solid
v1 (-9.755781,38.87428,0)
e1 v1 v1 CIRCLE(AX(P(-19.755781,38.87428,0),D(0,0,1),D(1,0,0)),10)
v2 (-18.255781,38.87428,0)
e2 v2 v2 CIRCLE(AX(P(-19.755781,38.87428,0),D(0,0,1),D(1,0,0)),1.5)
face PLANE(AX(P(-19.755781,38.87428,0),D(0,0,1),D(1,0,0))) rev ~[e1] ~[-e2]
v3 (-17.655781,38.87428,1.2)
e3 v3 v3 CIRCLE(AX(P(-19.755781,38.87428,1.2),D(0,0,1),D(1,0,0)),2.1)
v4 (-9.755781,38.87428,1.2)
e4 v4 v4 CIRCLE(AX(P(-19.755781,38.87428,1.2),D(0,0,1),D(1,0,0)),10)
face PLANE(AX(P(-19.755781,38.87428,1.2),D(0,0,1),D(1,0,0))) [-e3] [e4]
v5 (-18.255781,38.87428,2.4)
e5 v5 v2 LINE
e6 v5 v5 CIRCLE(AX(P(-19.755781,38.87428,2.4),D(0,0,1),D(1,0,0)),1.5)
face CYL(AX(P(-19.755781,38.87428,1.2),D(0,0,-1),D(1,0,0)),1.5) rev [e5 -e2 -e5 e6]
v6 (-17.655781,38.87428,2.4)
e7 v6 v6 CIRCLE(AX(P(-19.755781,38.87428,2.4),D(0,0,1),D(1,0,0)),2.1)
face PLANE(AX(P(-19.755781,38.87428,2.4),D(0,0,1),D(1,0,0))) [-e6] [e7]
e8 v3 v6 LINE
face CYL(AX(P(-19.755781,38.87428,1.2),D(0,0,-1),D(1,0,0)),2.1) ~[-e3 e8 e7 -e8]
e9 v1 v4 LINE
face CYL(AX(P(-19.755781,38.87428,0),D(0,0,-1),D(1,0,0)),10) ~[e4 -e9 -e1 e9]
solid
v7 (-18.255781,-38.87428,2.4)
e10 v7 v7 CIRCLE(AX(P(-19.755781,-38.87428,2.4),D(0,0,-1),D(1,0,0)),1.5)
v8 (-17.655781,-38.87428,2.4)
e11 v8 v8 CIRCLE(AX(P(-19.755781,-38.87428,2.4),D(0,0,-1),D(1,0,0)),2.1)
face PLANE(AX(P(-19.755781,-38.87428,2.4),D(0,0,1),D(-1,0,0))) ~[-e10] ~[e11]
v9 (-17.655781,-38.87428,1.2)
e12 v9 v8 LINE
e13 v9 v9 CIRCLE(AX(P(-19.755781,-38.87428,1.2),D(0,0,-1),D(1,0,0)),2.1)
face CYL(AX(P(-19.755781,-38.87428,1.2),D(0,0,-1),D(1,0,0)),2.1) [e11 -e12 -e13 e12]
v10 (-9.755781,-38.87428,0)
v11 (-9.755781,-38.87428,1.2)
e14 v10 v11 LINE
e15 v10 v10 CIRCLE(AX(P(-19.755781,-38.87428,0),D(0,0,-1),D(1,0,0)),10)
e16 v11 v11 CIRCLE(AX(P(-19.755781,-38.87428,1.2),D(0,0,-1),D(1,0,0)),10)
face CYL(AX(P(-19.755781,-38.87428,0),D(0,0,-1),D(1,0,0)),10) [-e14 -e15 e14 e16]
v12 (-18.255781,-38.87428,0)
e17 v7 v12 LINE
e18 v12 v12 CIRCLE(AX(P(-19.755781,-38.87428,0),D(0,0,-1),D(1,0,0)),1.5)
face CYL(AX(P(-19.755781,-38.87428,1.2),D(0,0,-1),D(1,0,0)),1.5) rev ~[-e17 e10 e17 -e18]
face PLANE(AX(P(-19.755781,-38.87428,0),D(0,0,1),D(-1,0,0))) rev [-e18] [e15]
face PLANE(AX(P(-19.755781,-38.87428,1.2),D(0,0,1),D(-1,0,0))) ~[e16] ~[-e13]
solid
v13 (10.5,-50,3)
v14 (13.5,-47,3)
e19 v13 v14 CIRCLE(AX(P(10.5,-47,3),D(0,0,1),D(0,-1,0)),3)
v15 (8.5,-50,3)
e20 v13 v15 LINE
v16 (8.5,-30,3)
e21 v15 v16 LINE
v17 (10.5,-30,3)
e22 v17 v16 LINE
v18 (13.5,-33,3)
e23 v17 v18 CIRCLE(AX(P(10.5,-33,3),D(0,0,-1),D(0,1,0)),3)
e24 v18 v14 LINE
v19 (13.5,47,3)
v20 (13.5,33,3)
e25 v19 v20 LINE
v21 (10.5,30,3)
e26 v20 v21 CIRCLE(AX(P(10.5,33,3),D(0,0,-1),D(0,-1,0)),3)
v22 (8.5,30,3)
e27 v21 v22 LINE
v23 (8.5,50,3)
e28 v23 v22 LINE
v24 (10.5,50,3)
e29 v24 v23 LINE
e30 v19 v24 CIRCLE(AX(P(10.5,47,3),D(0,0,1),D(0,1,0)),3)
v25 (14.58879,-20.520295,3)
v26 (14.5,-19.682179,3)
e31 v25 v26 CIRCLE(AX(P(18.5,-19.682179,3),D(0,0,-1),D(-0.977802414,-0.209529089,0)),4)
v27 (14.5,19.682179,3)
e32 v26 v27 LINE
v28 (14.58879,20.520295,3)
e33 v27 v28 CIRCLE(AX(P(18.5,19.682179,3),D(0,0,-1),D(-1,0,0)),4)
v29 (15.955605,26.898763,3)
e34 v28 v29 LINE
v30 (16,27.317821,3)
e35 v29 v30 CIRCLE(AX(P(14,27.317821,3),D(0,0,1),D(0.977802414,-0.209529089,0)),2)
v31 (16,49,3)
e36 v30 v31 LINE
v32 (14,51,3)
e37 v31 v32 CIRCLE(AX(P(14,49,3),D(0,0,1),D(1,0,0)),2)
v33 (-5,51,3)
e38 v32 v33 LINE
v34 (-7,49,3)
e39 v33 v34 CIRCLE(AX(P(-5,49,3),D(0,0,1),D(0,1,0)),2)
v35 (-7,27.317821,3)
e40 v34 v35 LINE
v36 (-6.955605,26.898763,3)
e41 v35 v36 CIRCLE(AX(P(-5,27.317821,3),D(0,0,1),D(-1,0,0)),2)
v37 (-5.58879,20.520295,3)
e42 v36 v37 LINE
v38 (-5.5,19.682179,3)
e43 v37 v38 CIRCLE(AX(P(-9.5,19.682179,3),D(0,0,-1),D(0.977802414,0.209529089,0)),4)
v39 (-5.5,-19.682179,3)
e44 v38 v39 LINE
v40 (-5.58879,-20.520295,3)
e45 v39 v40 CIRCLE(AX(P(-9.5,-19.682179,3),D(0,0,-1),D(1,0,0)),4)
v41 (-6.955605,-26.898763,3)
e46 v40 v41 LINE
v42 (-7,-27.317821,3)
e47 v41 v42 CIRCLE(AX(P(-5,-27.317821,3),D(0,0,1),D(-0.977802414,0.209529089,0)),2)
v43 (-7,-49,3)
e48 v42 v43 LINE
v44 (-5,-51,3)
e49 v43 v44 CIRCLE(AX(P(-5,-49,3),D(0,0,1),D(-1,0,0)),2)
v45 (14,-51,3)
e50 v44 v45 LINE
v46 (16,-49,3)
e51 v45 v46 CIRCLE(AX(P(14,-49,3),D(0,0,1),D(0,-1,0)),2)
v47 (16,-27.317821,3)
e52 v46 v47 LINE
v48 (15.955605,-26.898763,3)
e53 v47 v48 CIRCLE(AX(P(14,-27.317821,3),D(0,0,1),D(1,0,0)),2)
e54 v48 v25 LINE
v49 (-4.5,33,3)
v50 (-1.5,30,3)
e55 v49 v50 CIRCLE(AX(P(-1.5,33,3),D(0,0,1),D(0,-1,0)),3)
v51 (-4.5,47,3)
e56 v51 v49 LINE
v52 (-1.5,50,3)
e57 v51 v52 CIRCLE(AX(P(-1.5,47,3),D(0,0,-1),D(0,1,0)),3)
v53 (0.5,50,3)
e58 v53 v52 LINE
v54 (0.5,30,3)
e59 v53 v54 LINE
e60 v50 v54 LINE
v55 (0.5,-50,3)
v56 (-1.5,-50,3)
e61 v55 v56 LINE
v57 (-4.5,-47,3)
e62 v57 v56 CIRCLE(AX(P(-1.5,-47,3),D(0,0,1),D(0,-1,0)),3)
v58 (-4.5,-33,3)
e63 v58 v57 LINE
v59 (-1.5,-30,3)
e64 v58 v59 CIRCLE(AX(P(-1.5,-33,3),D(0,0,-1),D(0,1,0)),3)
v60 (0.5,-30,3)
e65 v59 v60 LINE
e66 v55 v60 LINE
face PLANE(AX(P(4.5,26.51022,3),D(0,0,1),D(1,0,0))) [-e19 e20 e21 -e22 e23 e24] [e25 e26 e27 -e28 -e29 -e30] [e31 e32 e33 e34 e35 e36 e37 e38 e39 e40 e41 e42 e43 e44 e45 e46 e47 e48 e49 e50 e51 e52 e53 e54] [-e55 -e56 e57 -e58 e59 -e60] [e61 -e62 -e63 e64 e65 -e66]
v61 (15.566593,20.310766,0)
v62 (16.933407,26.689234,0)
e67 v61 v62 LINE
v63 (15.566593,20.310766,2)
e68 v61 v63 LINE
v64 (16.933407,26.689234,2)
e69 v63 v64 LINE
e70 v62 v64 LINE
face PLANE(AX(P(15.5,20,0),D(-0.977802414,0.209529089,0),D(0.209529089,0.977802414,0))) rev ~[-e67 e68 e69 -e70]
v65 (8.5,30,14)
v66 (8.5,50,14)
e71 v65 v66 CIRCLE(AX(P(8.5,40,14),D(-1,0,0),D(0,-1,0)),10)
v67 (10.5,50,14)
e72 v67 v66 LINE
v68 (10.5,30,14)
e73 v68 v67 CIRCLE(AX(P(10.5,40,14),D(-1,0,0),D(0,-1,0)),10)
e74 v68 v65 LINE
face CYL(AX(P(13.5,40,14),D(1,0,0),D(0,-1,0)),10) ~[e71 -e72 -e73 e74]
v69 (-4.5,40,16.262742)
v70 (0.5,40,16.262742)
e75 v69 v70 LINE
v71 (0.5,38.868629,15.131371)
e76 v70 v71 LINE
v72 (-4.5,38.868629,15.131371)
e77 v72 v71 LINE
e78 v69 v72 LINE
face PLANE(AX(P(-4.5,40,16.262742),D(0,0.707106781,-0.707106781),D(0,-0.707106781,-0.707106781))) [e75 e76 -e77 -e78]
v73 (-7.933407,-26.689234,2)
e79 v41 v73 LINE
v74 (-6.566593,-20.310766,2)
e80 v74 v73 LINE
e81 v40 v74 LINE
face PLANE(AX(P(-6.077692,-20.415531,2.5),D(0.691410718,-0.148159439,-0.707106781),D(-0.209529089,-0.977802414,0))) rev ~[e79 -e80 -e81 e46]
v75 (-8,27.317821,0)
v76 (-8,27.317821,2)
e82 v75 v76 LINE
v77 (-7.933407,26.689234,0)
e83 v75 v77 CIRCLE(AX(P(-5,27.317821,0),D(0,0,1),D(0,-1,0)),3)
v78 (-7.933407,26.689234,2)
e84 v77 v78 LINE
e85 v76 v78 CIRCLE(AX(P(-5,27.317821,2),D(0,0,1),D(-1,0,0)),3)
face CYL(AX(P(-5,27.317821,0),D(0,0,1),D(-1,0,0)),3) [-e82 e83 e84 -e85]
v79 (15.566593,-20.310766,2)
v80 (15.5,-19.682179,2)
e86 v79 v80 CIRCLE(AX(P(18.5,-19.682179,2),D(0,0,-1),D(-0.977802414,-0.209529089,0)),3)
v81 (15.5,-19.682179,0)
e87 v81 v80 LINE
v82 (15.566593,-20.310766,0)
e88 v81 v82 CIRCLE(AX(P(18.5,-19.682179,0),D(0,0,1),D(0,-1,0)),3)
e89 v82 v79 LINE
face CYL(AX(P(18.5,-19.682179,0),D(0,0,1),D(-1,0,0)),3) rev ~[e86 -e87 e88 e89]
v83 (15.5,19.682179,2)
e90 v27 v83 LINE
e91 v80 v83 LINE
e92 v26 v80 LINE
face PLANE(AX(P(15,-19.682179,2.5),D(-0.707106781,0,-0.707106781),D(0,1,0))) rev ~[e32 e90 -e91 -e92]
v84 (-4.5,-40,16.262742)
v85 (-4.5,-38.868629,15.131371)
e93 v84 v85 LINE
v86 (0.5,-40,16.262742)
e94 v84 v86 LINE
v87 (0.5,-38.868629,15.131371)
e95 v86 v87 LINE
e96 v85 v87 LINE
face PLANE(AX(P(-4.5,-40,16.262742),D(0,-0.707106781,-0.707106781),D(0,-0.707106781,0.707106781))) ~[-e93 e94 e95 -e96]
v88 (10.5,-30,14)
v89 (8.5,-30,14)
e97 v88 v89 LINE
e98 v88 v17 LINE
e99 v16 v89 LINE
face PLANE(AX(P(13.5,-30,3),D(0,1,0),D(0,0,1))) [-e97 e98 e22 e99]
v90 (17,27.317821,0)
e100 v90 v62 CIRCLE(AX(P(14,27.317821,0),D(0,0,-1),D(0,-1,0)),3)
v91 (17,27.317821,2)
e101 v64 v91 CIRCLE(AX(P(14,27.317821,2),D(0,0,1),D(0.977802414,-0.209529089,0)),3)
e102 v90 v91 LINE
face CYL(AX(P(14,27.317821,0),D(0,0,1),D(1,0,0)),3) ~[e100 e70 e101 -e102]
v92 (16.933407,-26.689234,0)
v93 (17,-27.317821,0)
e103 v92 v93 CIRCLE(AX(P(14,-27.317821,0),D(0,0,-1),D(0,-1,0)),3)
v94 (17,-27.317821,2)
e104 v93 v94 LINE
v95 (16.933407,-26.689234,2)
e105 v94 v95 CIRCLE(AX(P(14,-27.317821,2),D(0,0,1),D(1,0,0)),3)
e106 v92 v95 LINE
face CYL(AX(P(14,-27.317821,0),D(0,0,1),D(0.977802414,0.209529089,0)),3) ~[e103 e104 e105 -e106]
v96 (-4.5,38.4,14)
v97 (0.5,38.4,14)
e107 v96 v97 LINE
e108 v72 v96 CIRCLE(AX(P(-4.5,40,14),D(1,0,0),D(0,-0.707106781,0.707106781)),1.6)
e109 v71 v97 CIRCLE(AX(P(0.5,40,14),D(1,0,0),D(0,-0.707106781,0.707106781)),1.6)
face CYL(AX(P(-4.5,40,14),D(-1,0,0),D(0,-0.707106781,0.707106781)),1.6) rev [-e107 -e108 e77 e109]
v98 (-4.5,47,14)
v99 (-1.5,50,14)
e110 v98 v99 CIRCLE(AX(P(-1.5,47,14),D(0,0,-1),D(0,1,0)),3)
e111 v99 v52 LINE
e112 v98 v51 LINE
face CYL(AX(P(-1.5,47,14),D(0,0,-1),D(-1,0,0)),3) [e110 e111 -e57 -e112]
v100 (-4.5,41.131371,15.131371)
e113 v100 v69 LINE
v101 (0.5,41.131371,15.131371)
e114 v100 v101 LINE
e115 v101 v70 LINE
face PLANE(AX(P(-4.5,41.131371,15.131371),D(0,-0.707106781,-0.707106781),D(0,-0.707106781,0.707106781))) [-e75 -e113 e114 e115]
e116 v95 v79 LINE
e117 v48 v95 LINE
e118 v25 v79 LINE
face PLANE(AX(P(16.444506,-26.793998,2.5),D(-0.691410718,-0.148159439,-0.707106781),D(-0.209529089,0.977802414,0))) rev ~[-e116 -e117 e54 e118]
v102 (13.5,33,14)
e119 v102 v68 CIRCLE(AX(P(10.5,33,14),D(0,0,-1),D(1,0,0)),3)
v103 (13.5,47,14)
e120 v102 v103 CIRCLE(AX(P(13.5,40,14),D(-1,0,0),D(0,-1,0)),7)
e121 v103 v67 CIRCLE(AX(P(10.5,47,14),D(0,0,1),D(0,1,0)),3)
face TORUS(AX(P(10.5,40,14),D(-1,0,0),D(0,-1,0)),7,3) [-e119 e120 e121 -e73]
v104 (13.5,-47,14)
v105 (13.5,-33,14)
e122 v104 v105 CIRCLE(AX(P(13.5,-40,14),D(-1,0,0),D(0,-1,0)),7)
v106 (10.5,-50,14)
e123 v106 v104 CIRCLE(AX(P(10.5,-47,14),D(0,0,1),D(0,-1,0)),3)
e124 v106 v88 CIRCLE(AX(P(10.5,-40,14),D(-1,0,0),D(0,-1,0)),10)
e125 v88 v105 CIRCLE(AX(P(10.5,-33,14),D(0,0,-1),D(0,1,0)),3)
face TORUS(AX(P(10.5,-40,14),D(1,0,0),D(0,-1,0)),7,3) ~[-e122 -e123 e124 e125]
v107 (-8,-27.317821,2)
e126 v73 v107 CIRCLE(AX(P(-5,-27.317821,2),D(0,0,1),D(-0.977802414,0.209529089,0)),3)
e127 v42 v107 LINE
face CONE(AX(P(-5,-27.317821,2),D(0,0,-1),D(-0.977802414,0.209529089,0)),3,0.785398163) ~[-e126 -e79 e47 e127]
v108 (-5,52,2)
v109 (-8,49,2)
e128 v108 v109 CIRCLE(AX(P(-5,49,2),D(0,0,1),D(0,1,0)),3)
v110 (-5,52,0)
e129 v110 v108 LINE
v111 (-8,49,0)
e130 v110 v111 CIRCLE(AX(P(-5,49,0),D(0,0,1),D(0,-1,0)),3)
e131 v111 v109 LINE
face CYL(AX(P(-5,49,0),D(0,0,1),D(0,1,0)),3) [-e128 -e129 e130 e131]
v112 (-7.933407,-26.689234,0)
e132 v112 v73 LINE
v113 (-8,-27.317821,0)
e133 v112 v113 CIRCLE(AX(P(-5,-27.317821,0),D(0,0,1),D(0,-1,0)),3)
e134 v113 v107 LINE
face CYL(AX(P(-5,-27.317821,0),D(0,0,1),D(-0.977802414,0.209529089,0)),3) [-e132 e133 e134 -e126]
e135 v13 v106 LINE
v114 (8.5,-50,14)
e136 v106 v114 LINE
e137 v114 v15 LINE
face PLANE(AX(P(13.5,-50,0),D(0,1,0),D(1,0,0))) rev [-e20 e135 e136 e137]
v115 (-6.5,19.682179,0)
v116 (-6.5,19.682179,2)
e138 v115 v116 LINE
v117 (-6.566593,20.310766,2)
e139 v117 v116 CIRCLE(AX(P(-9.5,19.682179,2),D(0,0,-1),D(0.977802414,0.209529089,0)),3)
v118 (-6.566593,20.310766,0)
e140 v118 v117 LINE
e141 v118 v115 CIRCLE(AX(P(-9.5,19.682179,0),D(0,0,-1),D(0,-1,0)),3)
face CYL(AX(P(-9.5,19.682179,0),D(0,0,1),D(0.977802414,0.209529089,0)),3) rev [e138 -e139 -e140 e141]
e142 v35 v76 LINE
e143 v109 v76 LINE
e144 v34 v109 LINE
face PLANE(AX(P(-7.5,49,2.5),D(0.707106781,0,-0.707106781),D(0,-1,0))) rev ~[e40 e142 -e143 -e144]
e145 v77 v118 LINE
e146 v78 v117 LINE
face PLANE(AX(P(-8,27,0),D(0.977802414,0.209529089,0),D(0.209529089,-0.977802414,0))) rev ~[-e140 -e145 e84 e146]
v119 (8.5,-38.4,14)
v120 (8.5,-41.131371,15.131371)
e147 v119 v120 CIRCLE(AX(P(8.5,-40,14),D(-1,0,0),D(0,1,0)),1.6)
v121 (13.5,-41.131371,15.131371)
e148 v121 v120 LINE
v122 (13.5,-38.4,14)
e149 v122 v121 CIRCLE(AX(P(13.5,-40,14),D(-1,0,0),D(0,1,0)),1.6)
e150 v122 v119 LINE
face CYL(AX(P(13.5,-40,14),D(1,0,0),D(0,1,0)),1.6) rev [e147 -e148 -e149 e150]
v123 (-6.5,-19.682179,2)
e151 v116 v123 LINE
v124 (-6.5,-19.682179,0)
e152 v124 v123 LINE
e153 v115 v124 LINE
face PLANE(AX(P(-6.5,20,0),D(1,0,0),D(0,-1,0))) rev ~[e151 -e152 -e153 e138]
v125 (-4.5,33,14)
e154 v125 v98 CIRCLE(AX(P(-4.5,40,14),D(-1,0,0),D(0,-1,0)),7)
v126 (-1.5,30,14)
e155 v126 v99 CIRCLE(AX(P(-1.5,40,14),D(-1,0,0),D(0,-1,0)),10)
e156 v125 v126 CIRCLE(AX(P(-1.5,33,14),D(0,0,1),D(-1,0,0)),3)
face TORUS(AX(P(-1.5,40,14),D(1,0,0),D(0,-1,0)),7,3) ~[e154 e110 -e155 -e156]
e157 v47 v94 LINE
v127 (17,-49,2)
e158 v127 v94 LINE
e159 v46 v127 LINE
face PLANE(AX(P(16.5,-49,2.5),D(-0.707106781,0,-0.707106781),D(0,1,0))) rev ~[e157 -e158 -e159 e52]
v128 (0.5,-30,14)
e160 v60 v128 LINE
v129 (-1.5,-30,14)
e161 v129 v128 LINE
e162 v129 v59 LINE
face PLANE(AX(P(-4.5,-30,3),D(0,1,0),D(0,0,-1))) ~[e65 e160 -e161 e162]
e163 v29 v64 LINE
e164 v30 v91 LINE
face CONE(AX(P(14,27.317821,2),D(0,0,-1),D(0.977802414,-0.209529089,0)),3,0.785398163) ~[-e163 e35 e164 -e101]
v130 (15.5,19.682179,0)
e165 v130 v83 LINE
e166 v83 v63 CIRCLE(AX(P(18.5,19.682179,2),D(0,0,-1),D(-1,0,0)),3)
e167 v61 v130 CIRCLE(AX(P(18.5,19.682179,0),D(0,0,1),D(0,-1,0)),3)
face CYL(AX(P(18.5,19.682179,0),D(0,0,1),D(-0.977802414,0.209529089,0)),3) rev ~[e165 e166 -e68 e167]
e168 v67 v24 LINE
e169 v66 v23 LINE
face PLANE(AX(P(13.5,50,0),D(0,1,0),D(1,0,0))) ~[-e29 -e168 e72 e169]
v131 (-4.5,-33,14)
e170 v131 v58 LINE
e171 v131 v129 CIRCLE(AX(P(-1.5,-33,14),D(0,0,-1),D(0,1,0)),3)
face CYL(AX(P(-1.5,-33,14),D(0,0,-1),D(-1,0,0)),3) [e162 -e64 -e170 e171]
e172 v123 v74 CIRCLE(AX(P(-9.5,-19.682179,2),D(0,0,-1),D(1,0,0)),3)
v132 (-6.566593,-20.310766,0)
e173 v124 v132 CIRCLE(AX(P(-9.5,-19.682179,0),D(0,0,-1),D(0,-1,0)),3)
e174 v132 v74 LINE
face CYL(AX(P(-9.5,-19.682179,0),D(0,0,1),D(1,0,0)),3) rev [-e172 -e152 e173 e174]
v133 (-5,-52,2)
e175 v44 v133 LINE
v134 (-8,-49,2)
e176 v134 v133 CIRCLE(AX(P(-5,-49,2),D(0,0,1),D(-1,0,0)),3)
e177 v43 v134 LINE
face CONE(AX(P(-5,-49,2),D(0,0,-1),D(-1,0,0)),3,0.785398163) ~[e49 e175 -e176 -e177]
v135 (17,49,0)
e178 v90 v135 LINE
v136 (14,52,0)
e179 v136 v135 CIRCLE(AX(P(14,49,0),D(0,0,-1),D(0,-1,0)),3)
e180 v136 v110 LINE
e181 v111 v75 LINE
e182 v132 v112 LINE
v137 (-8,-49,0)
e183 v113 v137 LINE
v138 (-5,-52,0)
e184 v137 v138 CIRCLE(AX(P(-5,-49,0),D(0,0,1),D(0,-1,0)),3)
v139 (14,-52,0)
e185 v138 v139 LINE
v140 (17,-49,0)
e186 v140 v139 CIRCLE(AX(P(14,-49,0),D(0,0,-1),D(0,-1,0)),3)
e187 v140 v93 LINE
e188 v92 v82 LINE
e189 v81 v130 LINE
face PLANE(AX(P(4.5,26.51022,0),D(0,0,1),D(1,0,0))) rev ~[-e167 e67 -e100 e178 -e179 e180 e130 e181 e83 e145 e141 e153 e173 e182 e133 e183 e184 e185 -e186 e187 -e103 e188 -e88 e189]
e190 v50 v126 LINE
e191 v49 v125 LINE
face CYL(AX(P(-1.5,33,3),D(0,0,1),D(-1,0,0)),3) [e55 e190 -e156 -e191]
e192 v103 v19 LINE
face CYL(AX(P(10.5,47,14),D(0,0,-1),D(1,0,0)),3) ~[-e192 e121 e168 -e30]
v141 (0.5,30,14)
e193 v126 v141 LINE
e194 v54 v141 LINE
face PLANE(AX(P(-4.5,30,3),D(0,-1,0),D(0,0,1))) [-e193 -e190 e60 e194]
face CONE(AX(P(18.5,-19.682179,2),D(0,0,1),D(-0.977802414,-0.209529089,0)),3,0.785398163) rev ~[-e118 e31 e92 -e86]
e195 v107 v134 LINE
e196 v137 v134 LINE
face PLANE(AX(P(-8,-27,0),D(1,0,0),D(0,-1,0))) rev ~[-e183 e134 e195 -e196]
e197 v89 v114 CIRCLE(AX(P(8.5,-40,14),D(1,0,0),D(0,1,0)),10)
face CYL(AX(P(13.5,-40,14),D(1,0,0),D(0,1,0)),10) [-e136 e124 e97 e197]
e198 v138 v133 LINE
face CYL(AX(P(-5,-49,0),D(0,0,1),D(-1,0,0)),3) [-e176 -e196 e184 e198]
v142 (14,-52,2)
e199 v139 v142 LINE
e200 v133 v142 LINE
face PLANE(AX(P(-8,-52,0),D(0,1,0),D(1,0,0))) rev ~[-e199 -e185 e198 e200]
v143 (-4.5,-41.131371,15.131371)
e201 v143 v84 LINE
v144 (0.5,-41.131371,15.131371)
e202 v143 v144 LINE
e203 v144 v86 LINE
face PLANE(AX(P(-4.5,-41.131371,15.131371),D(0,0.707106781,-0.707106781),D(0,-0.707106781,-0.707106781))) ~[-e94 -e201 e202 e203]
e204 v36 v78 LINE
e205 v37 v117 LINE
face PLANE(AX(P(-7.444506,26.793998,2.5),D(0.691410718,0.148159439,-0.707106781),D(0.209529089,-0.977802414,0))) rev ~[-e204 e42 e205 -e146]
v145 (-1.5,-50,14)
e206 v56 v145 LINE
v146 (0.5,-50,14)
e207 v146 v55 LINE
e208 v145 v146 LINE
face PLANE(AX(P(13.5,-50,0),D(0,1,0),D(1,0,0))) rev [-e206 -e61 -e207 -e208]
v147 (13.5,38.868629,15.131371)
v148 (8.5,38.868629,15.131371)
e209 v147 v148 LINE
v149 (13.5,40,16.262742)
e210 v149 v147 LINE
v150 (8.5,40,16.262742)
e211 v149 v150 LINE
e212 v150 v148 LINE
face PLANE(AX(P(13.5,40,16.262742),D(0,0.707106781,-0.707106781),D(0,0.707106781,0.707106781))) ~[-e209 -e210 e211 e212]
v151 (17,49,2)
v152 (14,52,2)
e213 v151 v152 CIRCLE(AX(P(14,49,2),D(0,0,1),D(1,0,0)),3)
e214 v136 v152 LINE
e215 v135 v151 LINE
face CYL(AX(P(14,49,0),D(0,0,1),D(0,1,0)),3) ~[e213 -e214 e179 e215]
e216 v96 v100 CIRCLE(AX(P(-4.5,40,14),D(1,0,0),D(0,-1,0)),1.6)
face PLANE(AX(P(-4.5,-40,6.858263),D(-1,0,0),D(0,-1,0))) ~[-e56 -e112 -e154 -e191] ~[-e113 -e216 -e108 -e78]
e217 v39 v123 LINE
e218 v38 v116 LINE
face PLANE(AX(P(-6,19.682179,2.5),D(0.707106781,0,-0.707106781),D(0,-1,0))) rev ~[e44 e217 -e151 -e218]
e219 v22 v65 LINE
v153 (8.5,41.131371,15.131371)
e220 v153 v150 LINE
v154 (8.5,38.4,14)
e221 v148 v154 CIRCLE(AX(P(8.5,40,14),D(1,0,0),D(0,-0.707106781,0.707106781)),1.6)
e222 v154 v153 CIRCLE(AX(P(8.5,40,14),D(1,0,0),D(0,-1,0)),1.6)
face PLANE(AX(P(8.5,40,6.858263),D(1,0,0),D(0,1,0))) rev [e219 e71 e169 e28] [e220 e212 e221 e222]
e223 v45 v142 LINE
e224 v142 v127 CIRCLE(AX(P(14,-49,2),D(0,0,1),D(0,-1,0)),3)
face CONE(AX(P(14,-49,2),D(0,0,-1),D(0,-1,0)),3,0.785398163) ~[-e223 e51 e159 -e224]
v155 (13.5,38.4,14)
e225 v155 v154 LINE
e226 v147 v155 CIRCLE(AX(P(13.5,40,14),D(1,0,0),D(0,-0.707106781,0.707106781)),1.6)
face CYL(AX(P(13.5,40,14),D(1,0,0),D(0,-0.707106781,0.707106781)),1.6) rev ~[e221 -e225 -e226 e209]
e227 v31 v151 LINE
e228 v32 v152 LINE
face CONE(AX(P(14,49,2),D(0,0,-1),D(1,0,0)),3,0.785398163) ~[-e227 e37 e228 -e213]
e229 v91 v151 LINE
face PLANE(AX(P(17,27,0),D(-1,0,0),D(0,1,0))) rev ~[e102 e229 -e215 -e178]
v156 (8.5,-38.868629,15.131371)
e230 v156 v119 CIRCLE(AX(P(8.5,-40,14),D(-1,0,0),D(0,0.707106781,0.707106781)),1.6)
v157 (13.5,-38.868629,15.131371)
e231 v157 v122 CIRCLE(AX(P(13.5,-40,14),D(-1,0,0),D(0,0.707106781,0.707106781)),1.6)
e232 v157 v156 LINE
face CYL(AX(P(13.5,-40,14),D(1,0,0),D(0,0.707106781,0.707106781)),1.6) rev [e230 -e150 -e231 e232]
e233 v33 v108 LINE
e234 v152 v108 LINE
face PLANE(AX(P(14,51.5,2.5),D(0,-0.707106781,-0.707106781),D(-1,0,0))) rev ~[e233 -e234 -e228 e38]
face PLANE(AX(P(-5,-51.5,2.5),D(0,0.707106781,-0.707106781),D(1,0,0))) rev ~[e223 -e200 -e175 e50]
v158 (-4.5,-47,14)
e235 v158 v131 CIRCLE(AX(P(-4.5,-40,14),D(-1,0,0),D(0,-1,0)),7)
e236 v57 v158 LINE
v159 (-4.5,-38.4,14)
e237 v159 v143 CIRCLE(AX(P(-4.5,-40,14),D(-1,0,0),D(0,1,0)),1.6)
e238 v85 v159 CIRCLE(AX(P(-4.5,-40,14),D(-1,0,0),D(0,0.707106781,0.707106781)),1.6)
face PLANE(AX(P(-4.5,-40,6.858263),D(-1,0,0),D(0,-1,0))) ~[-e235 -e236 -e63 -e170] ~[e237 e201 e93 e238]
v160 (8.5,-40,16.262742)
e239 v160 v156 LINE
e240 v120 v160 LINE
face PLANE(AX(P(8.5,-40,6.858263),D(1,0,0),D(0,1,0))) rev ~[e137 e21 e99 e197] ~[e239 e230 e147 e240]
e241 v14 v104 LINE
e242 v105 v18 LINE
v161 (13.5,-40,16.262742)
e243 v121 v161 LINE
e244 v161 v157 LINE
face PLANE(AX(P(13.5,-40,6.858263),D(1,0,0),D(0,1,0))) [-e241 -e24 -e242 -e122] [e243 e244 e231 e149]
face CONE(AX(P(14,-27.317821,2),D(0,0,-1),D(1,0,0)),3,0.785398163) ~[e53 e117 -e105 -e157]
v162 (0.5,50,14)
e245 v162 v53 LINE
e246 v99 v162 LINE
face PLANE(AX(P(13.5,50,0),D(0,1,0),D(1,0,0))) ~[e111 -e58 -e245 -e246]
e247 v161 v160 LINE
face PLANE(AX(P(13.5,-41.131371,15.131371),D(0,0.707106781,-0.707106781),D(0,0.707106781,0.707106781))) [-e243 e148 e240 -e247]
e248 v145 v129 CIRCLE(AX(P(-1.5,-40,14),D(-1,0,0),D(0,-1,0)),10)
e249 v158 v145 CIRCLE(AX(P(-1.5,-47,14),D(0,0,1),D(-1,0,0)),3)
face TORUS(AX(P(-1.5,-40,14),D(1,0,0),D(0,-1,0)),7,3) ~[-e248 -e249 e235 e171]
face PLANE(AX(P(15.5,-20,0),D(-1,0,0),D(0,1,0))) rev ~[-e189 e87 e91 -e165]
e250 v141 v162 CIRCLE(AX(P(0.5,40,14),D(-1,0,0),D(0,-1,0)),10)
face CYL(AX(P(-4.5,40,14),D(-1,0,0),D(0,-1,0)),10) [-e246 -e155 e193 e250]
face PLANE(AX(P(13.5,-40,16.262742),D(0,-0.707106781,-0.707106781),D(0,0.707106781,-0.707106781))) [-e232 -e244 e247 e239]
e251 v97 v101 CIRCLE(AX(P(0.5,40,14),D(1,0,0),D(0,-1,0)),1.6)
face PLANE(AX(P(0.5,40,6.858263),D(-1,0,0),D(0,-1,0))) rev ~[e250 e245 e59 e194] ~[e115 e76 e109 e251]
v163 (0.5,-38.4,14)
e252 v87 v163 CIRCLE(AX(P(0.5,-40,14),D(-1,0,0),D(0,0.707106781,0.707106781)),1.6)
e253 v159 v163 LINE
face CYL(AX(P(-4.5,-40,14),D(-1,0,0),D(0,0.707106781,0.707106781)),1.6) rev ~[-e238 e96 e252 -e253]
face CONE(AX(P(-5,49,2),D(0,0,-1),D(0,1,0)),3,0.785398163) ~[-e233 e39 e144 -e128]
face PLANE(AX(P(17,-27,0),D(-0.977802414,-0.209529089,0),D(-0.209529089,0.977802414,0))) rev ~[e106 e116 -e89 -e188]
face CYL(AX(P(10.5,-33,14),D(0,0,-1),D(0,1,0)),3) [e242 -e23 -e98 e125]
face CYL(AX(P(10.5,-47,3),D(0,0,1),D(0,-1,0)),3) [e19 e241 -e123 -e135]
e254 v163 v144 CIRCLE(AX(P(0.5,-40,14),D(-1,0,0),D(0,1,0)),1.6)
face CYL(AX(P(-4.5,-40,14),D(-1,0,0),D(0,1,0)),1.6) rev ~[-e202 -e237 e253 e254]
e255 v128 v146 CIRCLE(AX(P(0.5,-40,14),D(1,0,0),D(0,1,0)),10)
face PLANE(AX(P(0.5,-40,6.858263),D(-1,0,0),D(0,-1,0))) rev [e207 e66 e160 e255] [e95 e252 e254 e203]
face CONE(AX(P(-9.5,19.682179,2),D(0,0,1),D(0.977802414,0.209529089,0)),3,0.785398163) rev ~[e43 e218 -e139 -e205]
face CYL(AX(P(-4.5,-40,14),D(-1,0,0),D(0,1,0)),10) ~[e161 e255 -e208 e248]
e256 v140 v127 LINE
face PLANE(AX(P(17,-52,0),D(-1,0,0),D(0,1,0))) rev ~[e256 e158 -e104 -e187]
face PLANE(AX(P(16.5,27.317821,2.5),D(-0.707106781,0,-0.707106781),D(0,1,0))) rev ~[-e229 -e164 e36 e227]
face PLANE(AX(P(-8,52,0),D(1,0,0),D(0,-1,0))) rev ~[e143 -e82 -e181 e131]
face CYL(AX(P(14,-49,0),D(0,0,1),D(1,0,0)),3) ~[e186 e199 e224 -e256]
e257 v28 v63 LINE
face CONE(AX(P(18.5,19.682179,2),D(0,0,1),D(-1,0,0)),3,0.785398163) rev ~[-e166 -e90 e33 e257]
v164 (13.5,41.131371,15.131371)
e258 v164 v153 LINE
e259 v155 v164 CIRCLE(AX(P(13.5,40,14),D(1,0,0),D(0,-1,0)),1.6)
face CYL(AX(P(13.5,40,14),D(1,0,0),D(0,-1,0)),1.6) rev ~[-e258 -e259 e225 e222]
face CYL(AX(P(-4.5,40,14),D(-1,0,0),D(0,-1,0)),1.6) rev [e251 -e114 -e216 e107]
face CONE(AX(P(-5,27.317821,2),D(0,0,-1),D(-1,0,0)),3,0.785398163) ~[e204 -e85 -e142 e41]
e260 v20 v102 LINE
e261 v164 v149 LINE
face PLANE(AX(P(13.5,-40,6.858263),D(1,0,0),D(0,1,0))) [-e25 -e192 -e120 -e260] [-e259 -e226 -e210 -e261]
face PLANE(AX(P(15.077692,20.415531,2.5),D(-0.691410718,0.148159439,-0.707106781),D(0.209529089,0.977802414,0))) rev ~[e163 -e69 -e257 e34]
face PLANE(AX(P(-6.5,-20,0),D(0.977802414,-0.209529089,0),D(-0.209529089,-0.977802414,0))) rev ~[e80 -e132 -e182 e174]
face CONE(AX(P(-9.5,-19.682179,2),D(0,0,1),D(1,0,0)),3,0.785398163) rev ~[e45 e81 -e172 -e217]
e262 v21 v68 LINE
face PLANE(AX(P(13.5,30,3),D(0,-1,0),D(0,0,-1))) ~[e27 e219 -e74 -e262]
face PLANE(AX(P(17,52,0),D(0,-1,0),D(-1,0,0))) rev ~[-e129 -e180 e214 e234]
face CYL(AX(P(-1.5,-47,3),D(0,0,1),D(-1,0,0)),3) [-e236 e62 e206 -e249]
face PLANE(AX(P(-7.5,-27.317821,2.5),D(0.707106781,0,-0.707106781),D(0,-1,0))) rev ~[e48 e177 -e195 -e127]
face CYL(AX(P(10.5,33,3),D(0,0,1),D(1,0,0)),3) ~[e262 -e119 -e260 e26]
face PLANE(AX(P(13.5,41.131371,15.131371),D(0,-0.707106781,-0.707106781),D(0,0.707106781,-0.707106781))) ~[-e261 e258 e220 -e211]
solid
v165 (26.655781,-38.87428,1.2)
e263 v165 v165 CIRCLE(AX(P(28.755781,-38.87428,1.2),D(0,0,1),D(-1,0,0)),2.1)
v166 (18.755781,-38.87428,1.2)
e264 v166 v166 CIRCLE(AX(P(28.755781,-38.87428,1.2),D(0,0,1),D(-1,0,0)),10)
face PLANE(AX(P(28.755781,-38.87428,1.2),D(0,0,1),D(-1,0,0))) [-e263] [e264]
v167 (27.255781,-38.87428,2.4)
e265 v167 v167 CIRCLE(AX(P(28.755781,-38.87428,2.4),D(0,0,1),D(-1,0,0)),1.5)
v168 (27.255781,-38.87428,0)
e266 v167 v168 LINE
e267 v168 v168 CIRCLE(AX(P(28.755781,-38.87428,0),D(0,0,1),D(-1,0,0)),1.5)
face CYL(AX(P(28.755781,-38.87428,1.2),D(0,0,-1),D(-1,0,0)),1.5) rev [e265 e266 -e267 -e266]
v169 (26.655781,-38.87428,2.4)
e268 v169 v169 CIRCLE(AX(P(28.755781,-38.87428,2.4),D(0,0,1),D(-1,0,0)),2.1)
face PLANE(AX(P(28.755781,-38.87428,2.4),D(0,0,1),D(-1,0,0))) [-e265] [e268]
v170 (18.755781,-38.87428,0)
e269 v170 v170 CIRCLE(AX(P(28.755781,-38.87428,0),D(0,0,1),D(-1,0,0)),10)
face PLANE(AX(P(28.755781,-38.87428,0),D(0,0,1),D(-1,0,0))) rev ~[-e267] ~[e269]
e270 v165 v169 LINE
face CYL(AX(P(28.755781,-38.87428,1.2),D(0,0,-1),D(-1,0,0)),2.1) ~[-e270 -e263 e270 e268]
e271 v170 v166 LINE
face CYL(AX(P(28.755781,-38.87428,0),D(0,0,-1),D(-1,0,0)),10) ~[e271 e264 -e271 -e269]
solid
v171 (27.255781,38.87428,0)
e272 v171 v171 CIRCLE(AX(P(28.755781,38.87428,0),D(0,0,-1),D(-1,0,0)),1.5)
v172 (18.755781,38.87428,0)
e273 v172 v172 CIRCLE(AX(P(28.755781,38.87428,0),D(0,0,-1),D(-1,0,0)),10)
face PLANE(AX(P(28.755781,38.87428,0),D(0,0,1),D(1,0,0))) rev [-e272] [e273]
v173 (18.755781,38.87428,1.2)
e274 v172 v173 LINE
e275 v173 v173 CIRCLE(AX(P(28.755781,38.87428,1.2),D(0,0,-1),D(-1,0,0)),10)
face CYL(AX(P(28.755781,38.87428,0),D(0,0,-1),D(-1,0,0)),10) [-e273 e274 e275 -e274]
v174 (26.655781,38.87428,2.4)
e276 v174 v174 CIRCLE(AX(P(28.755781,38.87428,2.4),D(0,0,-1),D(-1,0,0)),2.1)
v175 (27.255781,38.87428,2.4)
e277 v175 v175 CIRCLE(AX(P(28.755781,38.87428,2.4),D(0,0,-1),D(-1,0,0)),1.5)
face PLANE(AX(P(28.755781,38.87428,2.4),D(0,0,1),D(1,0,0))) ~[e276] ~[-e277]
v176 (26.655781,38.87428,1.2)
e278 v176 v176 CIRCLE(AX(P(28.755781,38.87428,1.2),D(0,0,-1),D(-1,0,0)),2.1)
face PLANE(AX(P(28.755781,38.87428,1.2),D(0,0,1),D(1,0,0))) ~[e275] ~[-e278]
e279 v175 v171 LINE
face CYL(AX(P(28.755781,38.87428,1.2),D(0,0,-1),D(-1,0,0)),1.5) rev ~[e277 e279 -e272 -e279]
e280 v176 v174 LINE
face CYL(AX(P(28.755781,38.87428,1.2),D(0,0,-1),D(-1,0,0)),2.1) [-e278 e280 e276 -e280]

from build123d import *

# Parameters (mm, degrees)
F0_W      = 9
F0_H      = 100
F1_DEPTH  = 3
F3_DEPTH  = 5
F5_R      = 10
F5_R_2    = 1.5
F6_DEPTH  = 1.2
F7_R      = 2.1
F7_R_2    = 1.5
F8_DEPTH  = 1.2
F12_DEPTH = 3
F13_R     = 3
F14_SIZE  = 1


with BuildPart() as f1:
    # F0 (on Top) → F1 (new body)
    with BuildSketch(Plane.XY):
        Rectangle(F0_W, F0_H)
    extrude(amount=F1_DEPTH)

    # F2 (on face) → F3 (join)
    with BuildSketch(Plane(origin=(-4.5, 0, 0), x_dir=(0, -1, 0), z_dir=(-1, 0, 0))):
        with BuildLine():
            Line((-30, 3), (-30, 14))
            ThreePointArc((-30, 14), (-40, 4), (-50, 14))
            Line((-50, 14), (-50, 3))
            Line((-50, 3), (-30, 3))
        make_face()
        with BuildLine():
            ThreePointArc((-50, 14), (-40, 4), (-30, 14))
            ThreePointArc((-30, 14), (-40, 24), (-50, 14))
        make_face()
        with BuildLine():
            ThreePointArc((-38.8686291501, 15.1313708499), (-38.521792748, 14.6122934918), (-38.4, 14))
            ThreePointArc((-38.4, 14), (-40.6122934918, 12.521792748), (-41.1313708499, 15.1313708499))
            Line((-41.1313708499, 15.1313708499), (-40, 16.2627416998))
            Line((-40, 16.2627416998), (-38.8686291501, 15.1313708499))
        make_face(mode=Mode.SUBTRACT)
    extrude(amount=-F3_DEPTH)

    # F4: F1 across plane


with BuildPart() as f1_1:
    add(f1.part)
    add(f1.part.mirror(Plane.XZ))



with BuildPart() as f6:
    # F5 (on Top) → F6 (new body)
    with BuildSketch(Plane.XY):
        with Locations((-19.7557806969, 38.8742797077)):
            Circle(F5_R)
        with Locations((-19.7557806969, 38.8742797077)):
            Circle(F5_R_2, mode=Mode.SUBTRACT)
    extrude(amount=F6_DEPTH)

    # F7 (on face) → F8 (join)
    with BuildSketch(Plane.XY.offset(1.2)):
        with Locations((-19.7557806969, 38.8742797077)):
            Circle(F7_R)
        with Locations((-19.7557806969, 38.8742797077)):
            Circle(F7_R_2, mode=Mode.SUBTRACT)
    extrude(amount=F8_DEPTH)


with BuildPart() as f9_1:
    # F9: instance of F6
    add(f6.part.mirror(Plane.XZ))


with BuildPart() as f1_2:
    add(f1_1.part)
    # F10: F6, F9_1, F1 across face
    add(f6.part.mirror(Plane(origin=(4.5, 0, 1.5), x_dir=(0, 1, 0), z_dir=(1, 0, 0))))
    add(f9_1.part.mirror(Plane(origin=(4.5, 0, 1.5), x_dir=(0, 1, 0), z_dir=(1, 0, 0))))
    add(f1_1.part.mirror(Plane(origin=(4.5, 0, 1.5), x_dir=(0, 1, 0), z_dir=(1, 0, 0))))

    # F11 (on Top) → F12 (join)
    with BuildSketch(Plane.XY):
        Polygon((17, 52), (-8, 52), (-8, 27), (-6.5, 20), (-6.5, 0), (15.5, 0), (15.5, 20), (17, 27), align=None)
        Polygon((15.5, 0), (-6.5, 0), (-6.5, -20), (-8, -27), (-8, -52), (17, -52), (17, -27), (15.5, -20), align=None)
    extrude(amount=F12_DEPTH)

    # F13
    f13_edges = [f1_2.edges().sort_by_distance(p)[0] for p in [
        (-8, 52, 1.5),
        (17, 52, 1.5),
        (-8, 27, 1.5),
        (-6.5, 20, 1.5),
        (-6.5, -20, 1.5),
        (-8, -27, 1.5),
        (-8, -52, 1.5),
        (17, -52, 1.5),
        (17, 27, 1.5),
        (15.5, 20, 1.5),
        (15.5, -20, 1.5),
        (17, -27, 1.5),
        (13.5, -50, 8.5),
        (-4.5, -50, 8.5),
        (-4.5, 30, 8.5),
        (13.5, 30, 8.5),
    ]]
    fillet(f13_edges, radius=F13_R)

    # F14
    f14_edges = [f1_2.edges().sort_by_distance(p)[0] for p in [
        (15.5, 0, 3),
    ]]
    chamfer(f14_edges, length=F14_SIZE)


solid = Compound([f6.part, f9_1.part, f1_2.part])
